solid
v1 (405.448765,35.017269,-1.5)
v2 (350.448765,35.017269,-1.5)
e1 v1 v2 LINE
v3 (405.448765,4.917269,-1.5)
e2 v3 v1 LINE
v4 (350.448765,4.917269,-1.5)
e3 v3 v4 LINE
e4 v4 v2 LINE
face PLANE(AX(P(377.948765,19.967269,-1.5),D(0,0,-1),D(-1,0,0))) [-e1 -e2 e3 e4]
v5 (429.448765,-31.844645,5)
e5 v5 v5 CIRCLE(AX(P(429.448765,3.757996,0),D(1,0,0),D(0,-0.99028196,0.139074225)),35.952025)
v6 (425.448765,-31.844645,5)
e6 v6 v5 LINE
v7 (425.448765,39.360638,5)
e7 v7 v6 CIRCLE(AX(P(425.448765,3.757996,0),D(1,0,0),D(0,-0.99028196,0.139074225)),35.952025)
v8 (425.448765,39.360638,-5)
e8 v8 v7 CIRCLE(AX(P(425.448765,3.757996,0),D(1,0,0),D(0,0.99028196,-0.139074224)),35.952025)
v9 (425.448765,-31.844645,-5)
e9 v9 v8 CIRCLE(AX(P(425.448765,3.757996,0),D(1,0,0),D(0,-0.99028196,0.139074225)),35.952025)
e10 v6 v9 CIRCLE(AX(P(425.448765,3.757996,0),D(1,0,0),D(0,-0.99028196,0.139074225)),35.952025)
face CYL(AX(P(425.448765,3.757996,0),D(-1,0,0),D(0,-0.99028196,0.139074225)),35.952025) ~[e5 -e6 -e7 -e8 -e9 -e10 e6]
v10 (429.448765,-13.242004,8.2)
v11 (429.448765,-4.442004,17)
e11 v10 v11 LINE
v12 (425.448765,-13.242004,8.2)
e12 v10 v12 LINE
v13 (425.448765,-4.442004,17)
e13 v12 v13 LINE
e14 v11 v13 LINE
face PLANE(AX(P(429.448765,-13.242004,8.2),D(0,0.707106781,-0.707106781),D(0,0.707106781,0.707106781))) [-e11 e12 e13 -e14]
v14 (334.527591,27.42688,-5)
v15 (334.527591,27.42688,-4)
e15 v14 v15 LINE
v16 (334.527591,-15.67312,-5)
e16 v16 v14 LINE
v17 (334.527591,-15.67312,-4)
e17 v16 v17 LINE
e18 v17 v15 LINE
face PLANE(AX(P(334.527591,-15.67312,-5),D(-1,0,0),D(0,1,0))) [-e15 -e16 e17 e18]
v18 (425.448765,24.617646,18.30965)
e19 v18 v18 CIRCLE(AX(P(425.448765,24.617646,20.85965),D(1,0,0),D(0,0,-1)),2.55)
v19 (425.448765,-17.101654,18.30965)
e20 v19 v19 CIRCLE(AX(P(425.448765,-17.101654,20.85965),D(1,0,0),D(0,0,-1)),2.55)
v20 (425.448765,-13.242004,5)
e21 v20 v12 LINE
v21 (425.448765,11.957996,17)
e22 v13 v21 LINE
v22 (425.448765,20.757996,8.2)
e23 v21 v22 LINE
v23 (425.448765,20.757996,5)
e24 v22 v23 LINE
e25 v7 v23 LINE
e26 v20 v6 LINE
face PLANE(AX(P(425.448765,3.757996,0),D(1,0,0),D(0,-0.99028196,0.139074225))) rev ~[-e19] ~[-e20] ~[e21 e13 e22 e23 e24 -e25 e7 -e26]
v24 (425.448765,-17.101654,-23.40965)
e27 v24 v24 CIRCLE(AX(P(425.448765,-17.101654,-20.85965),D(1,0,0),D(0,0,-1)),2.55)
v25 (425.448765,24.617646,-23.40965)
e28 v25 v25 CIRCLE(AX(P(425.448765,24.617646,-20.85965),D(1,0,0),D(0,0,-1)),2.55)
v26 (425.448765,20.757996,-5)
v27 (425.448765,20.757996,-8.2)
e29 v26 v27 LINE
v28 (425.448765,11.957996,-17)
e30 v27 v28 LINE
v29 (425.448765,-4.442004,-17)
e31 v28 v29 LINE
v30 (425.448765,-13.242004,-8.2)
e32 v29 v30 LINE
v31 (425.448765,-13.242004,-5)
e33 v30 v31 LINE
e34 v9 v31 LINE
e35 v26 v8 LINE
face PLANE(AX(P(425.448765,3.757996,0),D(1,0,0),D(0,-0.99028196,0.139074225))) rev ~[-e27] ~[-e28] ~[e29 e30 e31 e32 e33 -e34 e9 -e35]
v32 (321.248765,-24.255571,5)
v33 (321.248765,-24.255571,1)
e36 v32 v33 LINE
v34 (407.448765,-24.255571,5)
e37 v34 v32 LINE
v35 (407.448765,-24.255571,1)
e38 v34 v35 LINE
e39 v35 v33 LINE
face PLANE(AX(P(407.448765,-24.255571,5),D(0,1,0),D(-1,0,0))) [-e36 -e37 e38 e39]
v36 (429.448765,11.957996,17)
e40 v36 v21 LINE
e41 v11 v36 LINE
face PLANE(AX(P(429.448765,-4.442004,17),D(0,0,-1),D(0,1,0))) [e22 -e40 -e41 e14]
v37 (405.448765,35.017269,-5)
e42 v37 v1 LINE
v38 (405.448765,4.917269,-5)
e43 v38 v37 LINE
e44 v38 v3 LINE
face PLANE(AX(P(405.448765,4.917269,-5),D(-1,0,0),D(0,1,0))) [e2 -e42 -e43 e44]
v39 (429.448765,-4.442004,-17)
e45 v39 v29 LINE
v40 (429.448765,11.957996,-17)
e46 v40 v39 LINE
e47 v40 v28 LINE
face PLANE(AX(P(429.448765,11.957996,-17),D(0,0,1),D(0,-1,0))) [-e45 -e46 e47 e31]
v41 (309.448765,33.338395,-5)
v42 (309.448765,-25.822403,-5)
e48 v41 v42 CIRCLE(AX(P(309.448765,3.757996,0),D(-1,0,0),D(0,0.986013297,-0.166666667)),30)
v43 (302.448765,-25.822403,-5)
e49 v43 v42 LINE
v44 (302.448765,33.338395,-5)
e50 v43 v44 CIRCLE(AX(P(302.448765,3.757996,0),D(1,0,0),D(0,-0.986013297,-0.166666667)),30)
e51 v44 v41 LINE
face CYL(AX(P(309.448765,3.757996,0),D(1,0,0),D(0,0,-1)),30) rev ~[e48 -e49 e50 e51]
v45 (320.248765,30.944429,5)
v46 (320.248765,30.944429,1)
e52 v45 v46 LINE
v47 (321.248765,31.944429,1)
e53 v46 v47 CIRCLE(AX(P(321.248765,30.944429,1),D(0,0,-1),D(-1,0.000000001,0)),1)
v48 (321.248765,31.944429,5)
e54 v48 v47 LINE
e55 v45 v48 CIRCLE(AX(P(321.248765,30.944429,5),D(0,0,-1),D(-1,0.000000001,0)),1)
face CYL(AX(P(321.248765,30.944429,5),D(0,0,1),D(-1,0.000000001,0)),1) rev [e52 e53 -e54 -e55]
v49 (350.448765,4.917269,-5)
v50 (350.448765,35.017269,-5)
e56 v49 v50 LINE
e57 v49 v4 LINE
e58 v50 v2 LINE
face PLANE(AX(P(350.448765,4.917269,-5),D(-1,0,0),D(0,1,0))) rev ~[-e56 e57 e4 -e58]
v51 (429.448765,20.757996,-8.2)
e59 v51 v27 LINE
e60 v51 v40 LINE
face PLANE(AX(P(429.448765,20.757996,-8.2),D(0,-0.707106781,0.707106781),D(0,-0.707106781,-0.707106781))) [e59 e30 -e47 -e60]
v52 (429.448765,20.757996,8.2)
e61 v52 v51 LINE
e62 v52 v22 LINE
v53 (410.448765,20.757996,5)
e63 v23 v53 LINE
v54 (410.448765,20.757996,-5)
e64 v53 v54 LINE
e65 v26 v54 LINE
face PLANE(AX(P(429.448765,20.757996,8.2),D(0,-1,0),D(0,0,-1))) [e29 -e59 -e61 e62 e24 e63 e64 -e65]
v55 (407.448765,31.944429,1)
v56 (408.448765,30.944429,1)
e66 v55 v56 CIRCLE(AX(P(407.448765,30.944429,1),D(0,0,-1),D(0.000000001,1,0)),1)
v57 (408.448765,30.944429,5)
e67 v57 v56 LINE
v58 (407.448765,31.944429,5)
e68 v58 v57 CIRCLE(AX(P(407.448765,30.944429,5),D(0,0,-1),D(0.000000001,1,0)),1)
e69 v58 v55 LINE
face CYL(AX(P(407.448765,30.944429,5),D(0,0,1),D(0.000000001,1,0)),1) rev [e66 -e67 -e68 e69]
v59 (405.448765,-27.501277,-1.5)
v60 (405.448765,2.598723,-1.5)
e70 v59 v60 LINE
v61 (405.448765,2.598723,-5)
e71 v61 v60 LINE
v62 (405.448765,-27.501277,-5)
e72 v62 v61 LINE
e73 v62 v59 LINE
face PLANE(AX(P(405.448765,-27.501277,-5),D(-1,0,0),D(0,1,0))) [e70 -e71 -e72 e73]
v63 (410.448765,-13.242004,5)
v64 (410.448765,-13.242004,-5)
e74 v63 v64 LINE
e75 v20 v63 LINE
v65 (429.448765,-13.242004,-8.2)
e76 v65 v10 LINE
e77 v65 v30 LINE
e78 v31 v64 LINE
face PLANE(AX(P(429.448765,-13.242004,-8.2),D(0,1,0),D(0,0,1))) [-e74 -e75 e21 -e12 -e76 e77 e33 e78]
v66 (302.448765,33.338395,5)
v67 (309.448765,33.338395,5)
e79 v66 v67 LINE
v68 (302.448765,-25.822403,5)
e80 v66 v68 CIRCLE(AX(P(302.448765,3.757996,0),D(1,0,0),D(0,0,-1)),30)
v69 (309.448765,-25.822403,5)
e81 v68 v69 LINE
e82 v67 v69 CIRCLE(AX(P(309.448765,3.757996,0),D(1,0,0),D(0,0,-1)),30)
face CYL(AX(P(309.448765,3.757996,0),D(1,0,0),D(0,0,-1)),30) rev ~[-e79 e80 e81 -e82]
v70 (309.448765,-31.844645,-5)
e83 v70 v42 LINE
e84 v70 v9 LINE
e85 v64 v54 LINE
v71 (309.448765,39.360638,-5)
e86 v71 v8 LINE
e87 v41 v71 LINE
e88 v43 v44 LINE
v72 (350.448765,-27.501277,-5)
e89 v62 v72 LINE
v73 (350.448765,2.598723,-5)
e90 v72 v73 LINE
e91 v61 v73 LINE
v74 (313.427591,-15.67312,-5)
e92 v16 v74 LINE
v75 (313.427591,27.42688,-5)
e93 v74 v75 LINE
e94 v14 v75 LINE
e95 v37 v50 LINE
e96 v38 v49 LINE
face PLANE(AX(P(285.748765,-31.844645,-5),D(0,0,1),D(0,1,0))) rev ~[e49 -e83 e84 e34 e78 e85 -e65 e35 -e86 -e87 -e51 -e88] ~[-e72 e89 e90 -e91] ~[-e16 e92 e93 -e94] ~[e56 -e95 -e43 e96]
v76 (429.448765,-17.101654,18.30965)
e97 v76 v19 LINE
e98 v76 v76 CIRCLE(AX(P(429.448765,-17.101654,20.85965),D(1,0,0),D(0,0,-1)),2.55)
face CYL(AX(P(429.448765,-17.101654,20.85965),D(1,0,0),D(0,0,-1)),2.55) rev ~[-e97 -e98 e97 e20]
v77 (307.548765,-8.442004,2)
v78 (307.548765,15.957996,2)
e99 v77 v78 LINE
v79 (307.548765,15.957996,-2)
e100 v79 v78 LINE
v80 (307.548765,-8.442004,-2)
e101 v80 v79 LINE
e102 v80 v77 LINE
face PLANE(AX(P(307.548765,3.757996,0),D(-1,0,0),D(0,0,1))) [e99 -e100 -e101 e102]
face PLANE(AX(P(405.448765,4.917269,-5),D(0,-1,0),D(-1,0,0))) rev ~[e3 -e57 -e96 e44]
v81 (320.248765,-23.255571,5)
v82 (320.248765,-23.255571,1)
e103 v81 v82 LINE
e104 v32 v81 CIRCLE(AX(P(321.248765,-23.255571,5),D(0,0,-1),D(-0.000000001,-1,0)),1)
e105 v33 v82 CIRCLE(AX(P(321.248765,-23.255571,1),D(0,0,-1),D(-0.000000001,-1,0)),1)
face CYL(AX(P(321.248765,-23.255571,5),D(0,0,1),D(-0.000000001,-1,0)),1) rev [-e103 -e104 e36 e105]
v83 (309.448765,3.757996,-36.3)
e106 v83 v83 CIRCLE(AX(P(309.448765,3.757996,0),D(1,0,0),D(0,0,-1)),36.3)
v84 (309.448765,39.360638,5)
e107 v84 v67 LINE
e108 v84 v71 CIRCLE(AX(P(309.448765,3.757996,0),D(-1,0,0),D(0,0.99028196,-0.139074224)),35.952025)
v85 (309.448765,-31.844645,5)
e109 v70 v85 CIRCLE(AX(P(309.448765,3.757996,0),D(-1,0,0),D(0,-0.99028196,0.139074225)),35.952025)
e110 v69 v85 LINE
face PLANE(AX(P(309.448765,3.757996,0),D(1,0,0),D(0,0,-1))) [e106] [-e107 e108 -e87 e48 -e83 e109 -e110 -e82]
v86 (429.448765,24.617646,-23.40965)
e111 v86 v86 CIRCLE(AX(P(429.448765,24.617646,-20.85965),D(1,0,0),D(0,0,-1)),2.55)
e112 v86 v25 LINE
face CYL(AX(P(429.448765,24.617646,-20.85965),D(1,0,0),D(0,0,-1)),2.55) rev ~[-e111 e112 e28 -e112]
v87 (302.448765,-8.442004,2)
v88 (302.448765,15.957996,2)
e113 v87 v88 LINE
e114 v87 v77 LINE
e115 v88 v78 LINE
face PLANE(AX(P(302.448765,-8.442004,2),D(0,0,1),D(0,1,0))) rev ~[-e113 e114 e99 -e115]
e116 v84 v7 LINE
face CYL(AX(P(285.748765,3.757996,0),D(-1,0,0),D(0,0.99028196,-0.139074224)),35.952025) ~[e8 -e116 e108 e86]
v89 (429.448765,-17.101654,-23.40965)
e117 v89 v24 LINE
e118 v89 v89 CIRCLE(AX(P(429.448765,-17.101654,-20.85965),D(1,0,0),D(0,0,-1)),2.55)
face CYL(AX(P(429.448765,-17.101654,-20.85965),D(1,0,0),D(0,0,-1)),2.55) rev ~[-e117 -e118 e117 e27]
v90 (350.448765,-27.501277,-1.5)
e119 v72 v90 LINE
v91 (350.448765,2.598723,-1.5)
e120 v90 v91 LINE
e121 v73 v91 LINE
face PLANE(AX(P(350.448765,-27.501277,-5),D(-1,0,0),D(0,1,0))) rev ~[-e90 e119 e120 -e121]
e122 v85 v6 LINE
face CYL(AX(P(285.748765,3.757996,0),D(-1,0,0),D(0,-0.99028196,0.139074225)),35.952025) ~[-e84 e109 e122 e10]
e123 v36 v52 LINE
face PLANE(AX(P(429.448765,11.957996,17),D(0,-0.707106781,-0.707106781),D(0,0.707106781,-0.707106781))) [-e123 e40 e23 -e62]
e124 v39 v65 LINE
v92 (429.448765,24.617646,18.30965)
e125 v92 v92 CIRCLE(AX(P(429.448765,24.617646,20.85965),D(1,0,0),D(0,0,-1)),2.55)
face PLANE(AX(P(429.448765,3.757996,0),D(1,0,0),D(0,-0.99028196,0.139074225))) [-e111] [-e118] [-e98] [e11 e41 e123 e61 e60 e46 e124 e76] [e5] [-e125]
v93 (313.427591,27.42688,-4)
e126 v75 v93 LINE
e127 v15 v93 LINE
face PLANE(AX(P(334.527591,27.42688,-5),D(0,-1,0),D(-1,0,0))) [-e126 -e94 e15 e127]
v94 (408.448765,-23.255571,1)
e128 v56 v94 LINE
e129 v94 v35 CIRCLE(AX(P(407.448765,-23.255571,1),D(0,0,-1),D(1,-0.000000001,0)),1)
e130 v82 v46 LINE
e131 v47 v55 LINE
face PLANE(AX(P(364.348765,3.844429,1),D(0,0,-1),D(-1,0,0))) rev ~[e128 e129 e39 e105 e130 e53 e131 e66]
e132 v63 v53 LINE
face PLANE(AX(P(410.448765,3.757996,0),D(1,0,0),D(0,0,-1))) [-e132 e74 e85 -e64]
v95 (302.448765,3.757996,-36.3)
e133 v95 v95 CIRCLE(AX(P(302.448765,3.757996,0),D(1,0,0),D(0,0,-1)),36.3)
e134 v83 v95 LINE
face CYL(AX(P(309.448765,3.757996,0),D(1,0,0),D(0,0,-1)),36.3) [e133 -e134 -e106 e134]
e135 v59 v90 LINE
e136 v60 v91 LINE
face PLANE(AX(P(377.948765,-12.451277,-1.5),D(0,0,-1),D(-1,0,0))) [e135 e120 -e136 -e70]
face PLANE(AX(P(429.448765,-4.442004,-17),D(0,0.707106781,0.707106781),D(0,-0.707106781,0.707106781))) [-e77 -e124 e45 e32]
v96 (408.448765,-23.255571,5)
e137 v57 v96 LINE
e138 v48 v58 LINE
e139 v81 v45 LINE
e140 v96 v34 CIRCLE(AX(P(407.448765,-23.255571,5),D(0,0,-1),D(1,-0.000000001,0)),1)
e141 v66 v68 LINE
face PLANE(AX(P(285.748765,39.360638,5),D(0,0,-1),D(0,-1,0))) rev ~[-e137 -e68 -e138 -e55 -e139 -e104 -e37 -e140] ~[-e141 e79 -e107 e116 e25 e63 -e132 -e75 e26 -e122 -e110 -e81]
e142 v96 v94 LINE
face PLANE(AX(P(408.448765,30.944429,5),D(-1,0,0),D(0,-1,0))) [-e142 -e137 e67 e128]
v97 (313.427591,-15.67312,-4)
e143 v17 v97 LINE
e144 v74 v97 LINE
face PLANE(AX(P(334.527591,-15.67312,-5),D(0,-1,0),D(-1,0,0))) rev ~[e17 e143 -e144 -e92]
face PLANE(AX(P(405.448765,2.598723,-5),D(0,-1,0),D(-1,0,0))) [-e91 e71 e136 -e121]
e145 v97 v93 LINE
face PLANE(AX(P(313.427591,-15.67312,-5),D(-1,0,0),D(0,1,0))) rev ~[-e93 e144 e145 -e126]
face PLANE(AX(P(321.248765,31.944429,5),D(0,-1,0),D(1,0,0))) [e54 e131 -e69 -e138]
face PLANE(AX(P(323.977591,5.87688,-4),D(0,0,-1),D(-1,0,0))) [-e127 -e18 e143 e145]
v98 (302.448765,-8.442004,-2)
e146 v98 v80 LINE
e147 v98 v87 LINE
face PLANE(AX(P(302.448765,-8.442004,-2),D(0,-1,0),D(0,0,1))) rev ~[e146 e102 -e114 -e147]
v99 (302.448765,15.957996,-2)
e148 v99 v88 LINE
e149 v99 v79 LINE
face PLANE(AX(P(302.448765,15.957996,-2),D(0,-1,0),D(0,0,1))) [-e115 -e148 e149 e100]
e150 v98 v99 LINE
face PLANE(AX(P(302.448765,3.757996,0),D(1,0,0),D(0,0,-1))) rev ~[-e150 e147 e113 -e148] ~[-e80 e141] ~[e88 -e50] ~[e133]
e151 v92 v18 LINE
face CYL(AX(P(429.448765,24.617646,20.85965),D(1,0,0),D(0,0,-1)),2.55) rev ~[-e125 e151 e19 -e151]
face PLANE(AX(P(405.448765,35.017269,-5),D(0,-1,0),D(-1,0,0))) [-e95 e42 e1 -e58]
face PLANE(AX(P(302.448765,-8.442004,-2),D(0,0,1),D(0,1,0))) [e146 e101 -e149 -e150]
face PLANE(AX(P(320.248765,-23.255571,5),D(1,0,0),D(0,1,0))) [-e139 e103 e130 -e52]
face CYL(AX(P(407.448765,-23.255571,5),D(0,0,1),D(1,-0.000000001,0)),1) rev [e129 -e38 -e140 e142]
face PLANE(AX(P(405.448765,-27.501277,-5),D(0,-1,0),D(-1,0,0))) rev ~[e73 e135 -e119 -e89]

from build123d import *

# Parameters (mm, degrees)
CUT_EXTRUDE1_DEPTH      = 212.88306668
BOSS_EXTRUDE2_DEPTH     = 139.7
SKETCH9_R               = 35.95202499
BOSS_EXTRUDE3_DEPTH     = 4
CUT_EXTRUDE2_DEPTH      = 4
SKETCH11_W              = 10
SKETCH11_H              = 34
CUT_EXTRUDE3_DEPTH      = 15
RASPBERRY_PI_5_DEPTH    = 4
GPS_SLOT_DEPTH          = 5.1
SKETCH14_W              = 10
SKETCH14_H              = 16
MPU_DEPTH               = 434.220724454
ALTIMETER_DEPTH         = 434.220724454
ALTIMETER_DEPTH_BACK    = 3.54
SKETCH15_W              = 20
SKETCH15_H              = 15.34
SKETCH16_W              = 62.2
SKETCH16_H              = 25.5
PCA9685_DEPTH           = 2
SKETCH17_W              = 50
SKETCH17_H              = 27
ESP_32_1_DEPTH          = 5
SKETCH18_W              = 55
SKETCH18_H              = 30.1
BATTERY_1_DEPTH         = 3.5
SKETCH21_W              = 55
SKETCH21_H              = 30.1
BATTERY_2_DEPTH         = 3.5
SKETCH24_W              = 50
SKETCH24_H              = 27
ESP_32_MESHTASTIC_DEPTH = 5
SKETCH25_W              = 21.1
SKETCH25_H              = 43.1
STEP_DOWN_DEPTH         = 1
SKETCH26_W              = 50
SKETCH26_H              = 27
ESP_32_2_DEPTH          = 5
BOSS_EXTRUDE4_START     = -120
SKETCH27_R              = 36.3
SKETCH27_R_2            = 30
BOSS_EXTRUDE4_DEPTH     = 7
CUT_EXTRUDE4_START      = -127
SKETCH29_R              = 36.3
CUT_EXTRUDE4_DEPTH      = 226.865446219
SKETCH30_W              = 4
SKETCH30_H              = 24.4
CUT_EXTRUDE5_DEPTH      = 5.1
CUT_EXTRUDE6_REACH      = 140.027
SKETCH31_R              = 2.55


with BuildPart() as part:
    # Sketch3 → Revolve1 (revolve)
    with BuildSketch(Plane.XY):
        with BuildLine():
            Line((285.74876522, 39.710021262), (285.74876522, 3.757996272))
            Line((285.74876522, 3.757996272), (80.74876522, 3.757996272))
            Line((80.74876522, 3.757996272), (80.74876522, 19.634316044))
            add(Edge.make_bspline(
                [(80.74876522, 19.634316044), (82.347112552, 19.950400666), (85.636412123, 20.593859316), (92.311794173, 21.870421625), (109.164486257, 24.943674568), (127.867996046, 27.977765645), (146.633052135, 30.604670801), (163.733801994, 32.658467989), (174.004488004, 33.801497199), (184.284802392, 34.855212792), (194.57611333, 35.797171826), (204.876878825, 36.627240946), (213.466527777, 37.244314669), (220.34120026, 37.693162367), (227.218898943, 38.097179671), (233.238636081, 38.411453209), (238.400481516, 38.652791264), (242.701722554, 38.8352093), (246.145182192, 38.969923968), (249.584994627, 39.093417446), (253.03241088, 39.20568842), (256.467961578, 39.306735697), (259.924132141, 39.396558203), (263.346991762, 39.475154984), (266.82565511, 39.542525204), (270.211898057, 39.598668148), (273.756466178, 39.643583219), (276.60509147, 39.673059099), (279.43950326, 39.691306197), (281.597603414, 39.703938851), (283.942998009, 39.708617629), (285.03032454, 39.710021262), (285.74876522, 39.710021262)],
                knots=[0.322773044, 0.322773044, 0.322773044, 0.322773044, 0.322773044, 0.341563488, 0.3614269, 0.401153715, 0.520334158, 0.56006097, 0.579924379, 0.599787787, 0.639514601, 0.679241414, 0.699104823, 0.718968231, 0.738831638, 0.758695045, 0.778558452, 0.788490156, 0.798421859, 0.808353563, 0.818285267, 0.828216971, 0.838148675, 0.848080378, 0.858012082, 0.867943786, 0.87787549, 0.887807193, 0.897738897, 0.902704749, 0.9076706, 0.917602304, 0.917602304, 0.917602304, 0.917602304, 0.917602304], degree=4))
        make_face()
    revolve(axis=Axis((285.74876522, 3.757996272, 0), (-1, 0, 0)))

    # Sketch6 → Cut-Extrude1 (cut, through all)
    with BuildSketch(Plane(origin=(285.74876522, 0, 0), x_dir=(0, 0, -1), z_dir=(1, 0, 0))):
        with BuildLine():
            Line((-5, -31.844645496), (-5, 39.36063804))
            ThreePointArc((-5, 39.360638041), (-35.95202499, 3.757996272), (-5, -31.844645496))
        make_face()
        with BuildLine():
            ThreePointArc((35.95202499, 3.757996272), (27.132160123, 27.346001444), (5, 39.36063804))
            Line((5, 39.36063804), (5, -31.844645496))
            ThreePointArc((5, -31.844645496), (27.132160123, -19.830008899), (35.95202499, 3.757996272))
        make_face()
    extrude(amount=-CUT_EXTRUDE1_DEPTH, mode=Mode.SUBTRACT)

    # Sketch8 → Boss-Extrude2 (add)
    with BuildSketch(Plane(origin=(285.74876522, 0, 0), x_dir=(0, 0, -1), z_dir=(1, 0, 0))):
        with BuildLine():
            Line((5, -31.844645496), (5, 39.360638041))
            ThreePointArc((5, 39.360638041), (0, 39.710021262), (-5, 39.360638041))
            Line((-5, 39.360638041), (-5, -31.844645496))
            ThreePointArc((-5, -31.844645496), (0, -32.194028718), (5, -31.844645496))
        make_face()
    extrude(amount=BOSS_EXTRUDE2_DEPTH)

    # Sketch9 → Boss-Extrude3 (add)
    with BuildSketch(Plane(origin=(425.44876522, 0, 0), x_dir=(0, 0, -1), z_dir=(1, 0, 0))):
        with Locations(Location((0, 3.757996272, 0), (0, 0, 262.00572083))):
            Circle(SKETCH9_R)
    extrude(amount=BOSS_EXTRUDE3_DEPTH)

    # Sketch10 → Cut-Extrude2 (cut)
    with BuildSketch(Plane(origin=(429.44876522, 0, 0), x_dir=(0, 0, -1), z_dir=(1, 0, 0))):
        Polygon((-17, -4.442003728), (-17, 11.957996272), (-8.2, 20.757996272), (8.2, 20.757996272), (17, 11.957996272), (17, -4.442003728), (8.2, -13.242003728), (-8.2, -13.242003728), align=None)
    extrude(amount=-CUT_EXTRUDE2_DEPTH, mode=Mode.SUBTRACT)

    # Sketch11 → Cut-Extrude3 (cut)
    with BuildSketch(Plane(origin=(425.44876522, 0, 0), x_dir=(0, 0, -1), z_dir=(1, 0, 0))):
        with Locations((0, 3.757996272)):
            Rectangle(SKETCH11_W, SKETCH11_H)
    extrude(amount=-CUT_EXTRUDE3_DEPTH, mode=Mode.SUBTRACT)

    # Sketch12 → Raspberry Pi 5 (cut)
    with BuildSketch(Plane.XY.offset(5)):
        with BuildLine():
            Line((407.44876522, -24.255570554), (321.24876522, -24.255570554))
            ThreePointArc((321.24876522, -24.255570554), (320.541658439, -23.962677335), (320.24876522, -23.255570554))
            Line((320.24876522, -23.255570554), (320.24876522, 30.944429446))
            ThreePointArc((320.24876522, 30.944429446), (320.541658439, 31.651536227), (321.24876522, 31.944429446))
            Line((321.24876522, 31.944429446), (407.44876522, 31.944429446))
            ThreePointArc((407.44876522, 31.944429446), (408.155872001, 31.651536227), (408.44876522, 30.944429446))
            Line((408.44876522, 30.944429446), (408.44876522, -23.255570554))
            ThreePointArc((408.44876522, -23.255570554), (408.155872001, -23.962677335), (407.44876522, -24.255570554))
        make_face()
    extrude(amount=-RASPBERRY_PI_5_DEPTH, mode=Mode.SUBTRACT)

    # Sketch13 → GPS Slot (cut)
    with BuildSketch(Plane.XY.offset(5)):
        with BuildLine():
            Line((294.985699539, 8.990821657), (262.335699539, 8.990821657))
            ThreePointArc((262.335699539, 8.990821657), (261.628592757, 9.283714876), (261.335699539, 9.990821657))
            Line((261.335699539, 9.990821657), (261.335699539, 33.590821657))
            ThreePointArc((261.335699539, 33.590821657), (261.628592757, 34.297928438), (262.335699539, 34.590821657))
            Line((262.335699539, 34.590821657), (294.985699539, 34.590821657))
            ThreePointArc((294.985699539, 34.590821657), (295.69280632, 34.297928438), (295.985699539, 33.590821657))
            Line((295.985699539, 33.590821657), (295.985699539, 9.990821657))
            ThreePointArc((295.985699539, 9.990821657), (295.69280632, 9.283714876), (294.985699539, 8.990821657))
        make_face()
    extrude(amount=-GPS_SLOT_DEPTH, mode=Mode.SUBTRACT)

    # Sketch14 → MPU (cut, through all)
    with BuildSketch(Plane.XY.offset(5)):
        with Locations((277.879699021, -20.106936119)):
            Rectangle(SKETCH14_W, SKETCH14_H)
    extrude(amount=-MPU_DEPTH, mode=Mode.SUBTRACT)

    # Sketch15 → Altimeter (cut, two sides: drawn at the far end of the back side and taken through both)
    with BuildSketch(Plane.XY.offset(5).offset(-ALTIMETER_DEPTH_BACK)):
        with Locations((285.717294066, -1.841089471)):
            Rectangle(SKETCH15_W, SKETCH15_H)
    extrude(amount=ALTIMETER_DEPTH + ALTIMETER_DEPTH_BACK, mode=Mode.SUBTRACT)

    # Sketch16 → PCA9685 (cut)
    with BuildSketch(Plane.XY.offset(5)):
        with Locations((132.808150825, 3.59036767)):
            Rectangle(SKETCH16_W, SKETCH16_H)
    extrude(amount=-PCA9685_DEPTH, mode=Mode.SUBTRACT)

    # Sketch17 → ESP-32 (1) (cut)
    with BuildSketch(Plane.XY.offset(5)):
        with Locations((233.402571461, -10.513286129)):
            Rectangle(SKETCH17_W, SKETCH17_H)
    extrude(amount=-ESP_32_1_DEPTH, mode=Mode.SUBTRACT)

    # Sketch18 → Battery 1 (cut)
    with BuildSketch(Plane(origin=(0, 0, -5), x_dir=(-1, 0, 0), z_dir=(0, 0, -1))):
        with Locations((-377.94876522, 19.967269146)):
            Rectangle(SKETCH18_W, SKETCH18_H)
    extrude(amount=-BATTERY_1_DEPTH, mode=Mode.SUBTRACT)

    # Sketch21 → Battery 2 (cut)
    with BuildSketch(Plane(origin=(0, 0, -5), x_dir=(-1, 0, 0), z_dir=(0, 0, -1))):
        with Locations((-377.94876522, -12.451276601)):
            Rectangle(SKETCH21_W, SKETCH21_H)
    extrude(amount=-BATTERY_2_DEPTH, mode=Mode.SUBTRACT)

    # Sketch24 → ESP-32 (Meshtastic) (cut)
    with BuildSketch(Plane(origin=(0, 0, -5), x_dir=(-1, 0, 0), z_dir=(0, 0, -1))):
        with Locations((-233.841762832, 18.555689361)):
            Rectangle(SKETCH24_W, SKETCH24_H)
    extrude(amount=-ESP_32_MESHTASTIC_DEPTH, mode=Mode.SUBTRACT)

    # Sketch25 → Step Down (cut)
    with BuildSketch(Plane(origin=(0, 0, -5), x_dir=(-1, 0, 0), z_dir=(0, 0, -1))):
        with Locations((-323.977591294, 5.876880331)):
            Rectangle(SKETCH25_W, SKETCH25_H)
    extrude(amount=-STEP_DOWN_DEPTH, mode=Mode.SUBTRACT)

    # Sketch26 → ESP-32 (2) (cut)
    with BuildSketch(Plane(origin=(0, 0, -5), x_dir=(-1, 0, 0), z_dir=(0, 0, -1))):
        with Locations((-165.478674332, 3.198326217)):
            Rectangle(SKETCH26_W, SKETCH26_H)
    extrude(amount=-ESP_32_2_DEPTH, mode=Mode.SUBTRACT)

    # Sketch27 → Boss-Extrude4 (add)
    with BuildSketch(Plane(origin=(429.44876522, 0, 0), x_dir=(0, 0, -1), z_dir=(1, 0, 0)).offset(BOSS_EXTRUDE4_START)):
        with Locations((0, 3.757996272)):
            Circle(SKETCH27_R)
        with Locations((0, 3.757996272)):
            Circle(SKETCH27_R_2, mode=Mode.SUBTRACT)
    extrude(amount=-BOSS_EXTRUDE4_DEPTH)

    # Sketch29 → Cut-Extrude4 (cut, through all)
    with BuildSketch(Plane(origin=(429.44876522, 0, 0), x_dir=(0, 0, -1), z_dir=(1, 0, 0)).offset(CUT_EXTRUDE4_START)):
        with Locations((0, 3.757996272)):
            Circle(SKETCH29_R)
    extrude(amount=-CUT_EXTRUDE4_DEPTH, mode=Mode.SUBTRACT)

    # Sketch30 → Cut-Extrude5 (cut)
    with BuildSketch(Plane.ZY.offset(-302.44876522)):
        with Locations((0, 3.757996272)):
            Rectangle(SKETCH30_W, SKETCH30_H)
    extrude(amount=-CUT_EXTRUDE5_DEPTH, mode=Mode.SUBTRACT)

    # Sketch31 → Cut-Extrude6 (cut, up to next)
    with BuildSketch(Plane(origin=(429.44876522, 0, 0), x_dir=(0, 0, -1), z_dir=(1, 0, 0)), mode=Mode.PRIVATE) as cut_extrude6_sk1:
        with Locations((20.859650045, 24.617646317)):
            Circle(SKETCH31_R)
    cut_extrude6_tool1 = extrude(cut_extrude6_sk1.sketch, amount=-CUT_EXTRUDE6_REACH, mode=Mode.PRIVATE) & part.part
    # Sketch31 → Cut-Extrude6 (cut, up to next)
    with BuildSketch(Plane(origin=(429.44876522, 0, 0), x_dir=(0, 0, -1), z_dir=(1, 0, 0)), mode=Mode.PRIVATE) as cut_extrude6_sk2:
        with Locations((-20.859650045, 24.617646317)):
            Circle(SKETCH31_R)
    cut_extrude6_tool2 = extrude(cut_extrude6_sk2.sketch, amount=-CUT_EXTRUDE6_REACH, mode=Mode.PRIVATE) & part.part
    # Sketch31 → Cut-Extrude6 (cut, up to next)
    with BuildSketch(Plane(origin=(429.44876522, 0, 0), x_dir=(0, 0, -1), z_dir=(1, 0, 0)), mode=Mode.PRIVATE) as cut_extrude6_sk3:
        with Locations((-20.859650045, -17.101653773)):
            Circle(SKETCH31_R)
    cut_extrude6_tool3 = extrude(cut_extrude6_sk3.sketch, amount=-CUT_EXTRUDE6_REACH, mode=Mode.PRIVATE) & part.part
    # Sketch31 → Cut-Extrude6 (cut, up to next)
    with BuildSketch(Plane(origin=(429.44876522, 0, 0), x_dir=(0, 0, -1), z_dir=(1, 0, 0)), mode=Mode.PRIVATE) as cut_extrude6_sk4:
        with Locations((20.859650045, -17.101653773)):
            Circle(SKETCH31_R)
    cut_extrude6_tool4 = extrude(cut_extrude6_sk4.sketch, amount=-CUT_EXTRUDE6_REACH, mode=Mode.PRIVATE) & part.part
    add(cut_extrude6_tool1.solids().sort_by_distance((429.448765, 24.617646, -20.85965))[0], mode=Mode.SUBTRACT)
    add(cut_extrude6_tool2.solids().sort_by_distance((429.448765, 24.617646, 20.85965))[0], mode=Mode.SUBTRACT)
    add(cut_extrude6_tool3.solids().sort_by_distance((429.448765, -17.101654, 20.85965))[0], mode=Mode.SUBTRACT)
    add(cut_extrude6_tool4.solids().sort_by_distance((429.448765, -17.101654, -20.85965))[0], mode=Mode.SUBTRACT)


solid = part.part
